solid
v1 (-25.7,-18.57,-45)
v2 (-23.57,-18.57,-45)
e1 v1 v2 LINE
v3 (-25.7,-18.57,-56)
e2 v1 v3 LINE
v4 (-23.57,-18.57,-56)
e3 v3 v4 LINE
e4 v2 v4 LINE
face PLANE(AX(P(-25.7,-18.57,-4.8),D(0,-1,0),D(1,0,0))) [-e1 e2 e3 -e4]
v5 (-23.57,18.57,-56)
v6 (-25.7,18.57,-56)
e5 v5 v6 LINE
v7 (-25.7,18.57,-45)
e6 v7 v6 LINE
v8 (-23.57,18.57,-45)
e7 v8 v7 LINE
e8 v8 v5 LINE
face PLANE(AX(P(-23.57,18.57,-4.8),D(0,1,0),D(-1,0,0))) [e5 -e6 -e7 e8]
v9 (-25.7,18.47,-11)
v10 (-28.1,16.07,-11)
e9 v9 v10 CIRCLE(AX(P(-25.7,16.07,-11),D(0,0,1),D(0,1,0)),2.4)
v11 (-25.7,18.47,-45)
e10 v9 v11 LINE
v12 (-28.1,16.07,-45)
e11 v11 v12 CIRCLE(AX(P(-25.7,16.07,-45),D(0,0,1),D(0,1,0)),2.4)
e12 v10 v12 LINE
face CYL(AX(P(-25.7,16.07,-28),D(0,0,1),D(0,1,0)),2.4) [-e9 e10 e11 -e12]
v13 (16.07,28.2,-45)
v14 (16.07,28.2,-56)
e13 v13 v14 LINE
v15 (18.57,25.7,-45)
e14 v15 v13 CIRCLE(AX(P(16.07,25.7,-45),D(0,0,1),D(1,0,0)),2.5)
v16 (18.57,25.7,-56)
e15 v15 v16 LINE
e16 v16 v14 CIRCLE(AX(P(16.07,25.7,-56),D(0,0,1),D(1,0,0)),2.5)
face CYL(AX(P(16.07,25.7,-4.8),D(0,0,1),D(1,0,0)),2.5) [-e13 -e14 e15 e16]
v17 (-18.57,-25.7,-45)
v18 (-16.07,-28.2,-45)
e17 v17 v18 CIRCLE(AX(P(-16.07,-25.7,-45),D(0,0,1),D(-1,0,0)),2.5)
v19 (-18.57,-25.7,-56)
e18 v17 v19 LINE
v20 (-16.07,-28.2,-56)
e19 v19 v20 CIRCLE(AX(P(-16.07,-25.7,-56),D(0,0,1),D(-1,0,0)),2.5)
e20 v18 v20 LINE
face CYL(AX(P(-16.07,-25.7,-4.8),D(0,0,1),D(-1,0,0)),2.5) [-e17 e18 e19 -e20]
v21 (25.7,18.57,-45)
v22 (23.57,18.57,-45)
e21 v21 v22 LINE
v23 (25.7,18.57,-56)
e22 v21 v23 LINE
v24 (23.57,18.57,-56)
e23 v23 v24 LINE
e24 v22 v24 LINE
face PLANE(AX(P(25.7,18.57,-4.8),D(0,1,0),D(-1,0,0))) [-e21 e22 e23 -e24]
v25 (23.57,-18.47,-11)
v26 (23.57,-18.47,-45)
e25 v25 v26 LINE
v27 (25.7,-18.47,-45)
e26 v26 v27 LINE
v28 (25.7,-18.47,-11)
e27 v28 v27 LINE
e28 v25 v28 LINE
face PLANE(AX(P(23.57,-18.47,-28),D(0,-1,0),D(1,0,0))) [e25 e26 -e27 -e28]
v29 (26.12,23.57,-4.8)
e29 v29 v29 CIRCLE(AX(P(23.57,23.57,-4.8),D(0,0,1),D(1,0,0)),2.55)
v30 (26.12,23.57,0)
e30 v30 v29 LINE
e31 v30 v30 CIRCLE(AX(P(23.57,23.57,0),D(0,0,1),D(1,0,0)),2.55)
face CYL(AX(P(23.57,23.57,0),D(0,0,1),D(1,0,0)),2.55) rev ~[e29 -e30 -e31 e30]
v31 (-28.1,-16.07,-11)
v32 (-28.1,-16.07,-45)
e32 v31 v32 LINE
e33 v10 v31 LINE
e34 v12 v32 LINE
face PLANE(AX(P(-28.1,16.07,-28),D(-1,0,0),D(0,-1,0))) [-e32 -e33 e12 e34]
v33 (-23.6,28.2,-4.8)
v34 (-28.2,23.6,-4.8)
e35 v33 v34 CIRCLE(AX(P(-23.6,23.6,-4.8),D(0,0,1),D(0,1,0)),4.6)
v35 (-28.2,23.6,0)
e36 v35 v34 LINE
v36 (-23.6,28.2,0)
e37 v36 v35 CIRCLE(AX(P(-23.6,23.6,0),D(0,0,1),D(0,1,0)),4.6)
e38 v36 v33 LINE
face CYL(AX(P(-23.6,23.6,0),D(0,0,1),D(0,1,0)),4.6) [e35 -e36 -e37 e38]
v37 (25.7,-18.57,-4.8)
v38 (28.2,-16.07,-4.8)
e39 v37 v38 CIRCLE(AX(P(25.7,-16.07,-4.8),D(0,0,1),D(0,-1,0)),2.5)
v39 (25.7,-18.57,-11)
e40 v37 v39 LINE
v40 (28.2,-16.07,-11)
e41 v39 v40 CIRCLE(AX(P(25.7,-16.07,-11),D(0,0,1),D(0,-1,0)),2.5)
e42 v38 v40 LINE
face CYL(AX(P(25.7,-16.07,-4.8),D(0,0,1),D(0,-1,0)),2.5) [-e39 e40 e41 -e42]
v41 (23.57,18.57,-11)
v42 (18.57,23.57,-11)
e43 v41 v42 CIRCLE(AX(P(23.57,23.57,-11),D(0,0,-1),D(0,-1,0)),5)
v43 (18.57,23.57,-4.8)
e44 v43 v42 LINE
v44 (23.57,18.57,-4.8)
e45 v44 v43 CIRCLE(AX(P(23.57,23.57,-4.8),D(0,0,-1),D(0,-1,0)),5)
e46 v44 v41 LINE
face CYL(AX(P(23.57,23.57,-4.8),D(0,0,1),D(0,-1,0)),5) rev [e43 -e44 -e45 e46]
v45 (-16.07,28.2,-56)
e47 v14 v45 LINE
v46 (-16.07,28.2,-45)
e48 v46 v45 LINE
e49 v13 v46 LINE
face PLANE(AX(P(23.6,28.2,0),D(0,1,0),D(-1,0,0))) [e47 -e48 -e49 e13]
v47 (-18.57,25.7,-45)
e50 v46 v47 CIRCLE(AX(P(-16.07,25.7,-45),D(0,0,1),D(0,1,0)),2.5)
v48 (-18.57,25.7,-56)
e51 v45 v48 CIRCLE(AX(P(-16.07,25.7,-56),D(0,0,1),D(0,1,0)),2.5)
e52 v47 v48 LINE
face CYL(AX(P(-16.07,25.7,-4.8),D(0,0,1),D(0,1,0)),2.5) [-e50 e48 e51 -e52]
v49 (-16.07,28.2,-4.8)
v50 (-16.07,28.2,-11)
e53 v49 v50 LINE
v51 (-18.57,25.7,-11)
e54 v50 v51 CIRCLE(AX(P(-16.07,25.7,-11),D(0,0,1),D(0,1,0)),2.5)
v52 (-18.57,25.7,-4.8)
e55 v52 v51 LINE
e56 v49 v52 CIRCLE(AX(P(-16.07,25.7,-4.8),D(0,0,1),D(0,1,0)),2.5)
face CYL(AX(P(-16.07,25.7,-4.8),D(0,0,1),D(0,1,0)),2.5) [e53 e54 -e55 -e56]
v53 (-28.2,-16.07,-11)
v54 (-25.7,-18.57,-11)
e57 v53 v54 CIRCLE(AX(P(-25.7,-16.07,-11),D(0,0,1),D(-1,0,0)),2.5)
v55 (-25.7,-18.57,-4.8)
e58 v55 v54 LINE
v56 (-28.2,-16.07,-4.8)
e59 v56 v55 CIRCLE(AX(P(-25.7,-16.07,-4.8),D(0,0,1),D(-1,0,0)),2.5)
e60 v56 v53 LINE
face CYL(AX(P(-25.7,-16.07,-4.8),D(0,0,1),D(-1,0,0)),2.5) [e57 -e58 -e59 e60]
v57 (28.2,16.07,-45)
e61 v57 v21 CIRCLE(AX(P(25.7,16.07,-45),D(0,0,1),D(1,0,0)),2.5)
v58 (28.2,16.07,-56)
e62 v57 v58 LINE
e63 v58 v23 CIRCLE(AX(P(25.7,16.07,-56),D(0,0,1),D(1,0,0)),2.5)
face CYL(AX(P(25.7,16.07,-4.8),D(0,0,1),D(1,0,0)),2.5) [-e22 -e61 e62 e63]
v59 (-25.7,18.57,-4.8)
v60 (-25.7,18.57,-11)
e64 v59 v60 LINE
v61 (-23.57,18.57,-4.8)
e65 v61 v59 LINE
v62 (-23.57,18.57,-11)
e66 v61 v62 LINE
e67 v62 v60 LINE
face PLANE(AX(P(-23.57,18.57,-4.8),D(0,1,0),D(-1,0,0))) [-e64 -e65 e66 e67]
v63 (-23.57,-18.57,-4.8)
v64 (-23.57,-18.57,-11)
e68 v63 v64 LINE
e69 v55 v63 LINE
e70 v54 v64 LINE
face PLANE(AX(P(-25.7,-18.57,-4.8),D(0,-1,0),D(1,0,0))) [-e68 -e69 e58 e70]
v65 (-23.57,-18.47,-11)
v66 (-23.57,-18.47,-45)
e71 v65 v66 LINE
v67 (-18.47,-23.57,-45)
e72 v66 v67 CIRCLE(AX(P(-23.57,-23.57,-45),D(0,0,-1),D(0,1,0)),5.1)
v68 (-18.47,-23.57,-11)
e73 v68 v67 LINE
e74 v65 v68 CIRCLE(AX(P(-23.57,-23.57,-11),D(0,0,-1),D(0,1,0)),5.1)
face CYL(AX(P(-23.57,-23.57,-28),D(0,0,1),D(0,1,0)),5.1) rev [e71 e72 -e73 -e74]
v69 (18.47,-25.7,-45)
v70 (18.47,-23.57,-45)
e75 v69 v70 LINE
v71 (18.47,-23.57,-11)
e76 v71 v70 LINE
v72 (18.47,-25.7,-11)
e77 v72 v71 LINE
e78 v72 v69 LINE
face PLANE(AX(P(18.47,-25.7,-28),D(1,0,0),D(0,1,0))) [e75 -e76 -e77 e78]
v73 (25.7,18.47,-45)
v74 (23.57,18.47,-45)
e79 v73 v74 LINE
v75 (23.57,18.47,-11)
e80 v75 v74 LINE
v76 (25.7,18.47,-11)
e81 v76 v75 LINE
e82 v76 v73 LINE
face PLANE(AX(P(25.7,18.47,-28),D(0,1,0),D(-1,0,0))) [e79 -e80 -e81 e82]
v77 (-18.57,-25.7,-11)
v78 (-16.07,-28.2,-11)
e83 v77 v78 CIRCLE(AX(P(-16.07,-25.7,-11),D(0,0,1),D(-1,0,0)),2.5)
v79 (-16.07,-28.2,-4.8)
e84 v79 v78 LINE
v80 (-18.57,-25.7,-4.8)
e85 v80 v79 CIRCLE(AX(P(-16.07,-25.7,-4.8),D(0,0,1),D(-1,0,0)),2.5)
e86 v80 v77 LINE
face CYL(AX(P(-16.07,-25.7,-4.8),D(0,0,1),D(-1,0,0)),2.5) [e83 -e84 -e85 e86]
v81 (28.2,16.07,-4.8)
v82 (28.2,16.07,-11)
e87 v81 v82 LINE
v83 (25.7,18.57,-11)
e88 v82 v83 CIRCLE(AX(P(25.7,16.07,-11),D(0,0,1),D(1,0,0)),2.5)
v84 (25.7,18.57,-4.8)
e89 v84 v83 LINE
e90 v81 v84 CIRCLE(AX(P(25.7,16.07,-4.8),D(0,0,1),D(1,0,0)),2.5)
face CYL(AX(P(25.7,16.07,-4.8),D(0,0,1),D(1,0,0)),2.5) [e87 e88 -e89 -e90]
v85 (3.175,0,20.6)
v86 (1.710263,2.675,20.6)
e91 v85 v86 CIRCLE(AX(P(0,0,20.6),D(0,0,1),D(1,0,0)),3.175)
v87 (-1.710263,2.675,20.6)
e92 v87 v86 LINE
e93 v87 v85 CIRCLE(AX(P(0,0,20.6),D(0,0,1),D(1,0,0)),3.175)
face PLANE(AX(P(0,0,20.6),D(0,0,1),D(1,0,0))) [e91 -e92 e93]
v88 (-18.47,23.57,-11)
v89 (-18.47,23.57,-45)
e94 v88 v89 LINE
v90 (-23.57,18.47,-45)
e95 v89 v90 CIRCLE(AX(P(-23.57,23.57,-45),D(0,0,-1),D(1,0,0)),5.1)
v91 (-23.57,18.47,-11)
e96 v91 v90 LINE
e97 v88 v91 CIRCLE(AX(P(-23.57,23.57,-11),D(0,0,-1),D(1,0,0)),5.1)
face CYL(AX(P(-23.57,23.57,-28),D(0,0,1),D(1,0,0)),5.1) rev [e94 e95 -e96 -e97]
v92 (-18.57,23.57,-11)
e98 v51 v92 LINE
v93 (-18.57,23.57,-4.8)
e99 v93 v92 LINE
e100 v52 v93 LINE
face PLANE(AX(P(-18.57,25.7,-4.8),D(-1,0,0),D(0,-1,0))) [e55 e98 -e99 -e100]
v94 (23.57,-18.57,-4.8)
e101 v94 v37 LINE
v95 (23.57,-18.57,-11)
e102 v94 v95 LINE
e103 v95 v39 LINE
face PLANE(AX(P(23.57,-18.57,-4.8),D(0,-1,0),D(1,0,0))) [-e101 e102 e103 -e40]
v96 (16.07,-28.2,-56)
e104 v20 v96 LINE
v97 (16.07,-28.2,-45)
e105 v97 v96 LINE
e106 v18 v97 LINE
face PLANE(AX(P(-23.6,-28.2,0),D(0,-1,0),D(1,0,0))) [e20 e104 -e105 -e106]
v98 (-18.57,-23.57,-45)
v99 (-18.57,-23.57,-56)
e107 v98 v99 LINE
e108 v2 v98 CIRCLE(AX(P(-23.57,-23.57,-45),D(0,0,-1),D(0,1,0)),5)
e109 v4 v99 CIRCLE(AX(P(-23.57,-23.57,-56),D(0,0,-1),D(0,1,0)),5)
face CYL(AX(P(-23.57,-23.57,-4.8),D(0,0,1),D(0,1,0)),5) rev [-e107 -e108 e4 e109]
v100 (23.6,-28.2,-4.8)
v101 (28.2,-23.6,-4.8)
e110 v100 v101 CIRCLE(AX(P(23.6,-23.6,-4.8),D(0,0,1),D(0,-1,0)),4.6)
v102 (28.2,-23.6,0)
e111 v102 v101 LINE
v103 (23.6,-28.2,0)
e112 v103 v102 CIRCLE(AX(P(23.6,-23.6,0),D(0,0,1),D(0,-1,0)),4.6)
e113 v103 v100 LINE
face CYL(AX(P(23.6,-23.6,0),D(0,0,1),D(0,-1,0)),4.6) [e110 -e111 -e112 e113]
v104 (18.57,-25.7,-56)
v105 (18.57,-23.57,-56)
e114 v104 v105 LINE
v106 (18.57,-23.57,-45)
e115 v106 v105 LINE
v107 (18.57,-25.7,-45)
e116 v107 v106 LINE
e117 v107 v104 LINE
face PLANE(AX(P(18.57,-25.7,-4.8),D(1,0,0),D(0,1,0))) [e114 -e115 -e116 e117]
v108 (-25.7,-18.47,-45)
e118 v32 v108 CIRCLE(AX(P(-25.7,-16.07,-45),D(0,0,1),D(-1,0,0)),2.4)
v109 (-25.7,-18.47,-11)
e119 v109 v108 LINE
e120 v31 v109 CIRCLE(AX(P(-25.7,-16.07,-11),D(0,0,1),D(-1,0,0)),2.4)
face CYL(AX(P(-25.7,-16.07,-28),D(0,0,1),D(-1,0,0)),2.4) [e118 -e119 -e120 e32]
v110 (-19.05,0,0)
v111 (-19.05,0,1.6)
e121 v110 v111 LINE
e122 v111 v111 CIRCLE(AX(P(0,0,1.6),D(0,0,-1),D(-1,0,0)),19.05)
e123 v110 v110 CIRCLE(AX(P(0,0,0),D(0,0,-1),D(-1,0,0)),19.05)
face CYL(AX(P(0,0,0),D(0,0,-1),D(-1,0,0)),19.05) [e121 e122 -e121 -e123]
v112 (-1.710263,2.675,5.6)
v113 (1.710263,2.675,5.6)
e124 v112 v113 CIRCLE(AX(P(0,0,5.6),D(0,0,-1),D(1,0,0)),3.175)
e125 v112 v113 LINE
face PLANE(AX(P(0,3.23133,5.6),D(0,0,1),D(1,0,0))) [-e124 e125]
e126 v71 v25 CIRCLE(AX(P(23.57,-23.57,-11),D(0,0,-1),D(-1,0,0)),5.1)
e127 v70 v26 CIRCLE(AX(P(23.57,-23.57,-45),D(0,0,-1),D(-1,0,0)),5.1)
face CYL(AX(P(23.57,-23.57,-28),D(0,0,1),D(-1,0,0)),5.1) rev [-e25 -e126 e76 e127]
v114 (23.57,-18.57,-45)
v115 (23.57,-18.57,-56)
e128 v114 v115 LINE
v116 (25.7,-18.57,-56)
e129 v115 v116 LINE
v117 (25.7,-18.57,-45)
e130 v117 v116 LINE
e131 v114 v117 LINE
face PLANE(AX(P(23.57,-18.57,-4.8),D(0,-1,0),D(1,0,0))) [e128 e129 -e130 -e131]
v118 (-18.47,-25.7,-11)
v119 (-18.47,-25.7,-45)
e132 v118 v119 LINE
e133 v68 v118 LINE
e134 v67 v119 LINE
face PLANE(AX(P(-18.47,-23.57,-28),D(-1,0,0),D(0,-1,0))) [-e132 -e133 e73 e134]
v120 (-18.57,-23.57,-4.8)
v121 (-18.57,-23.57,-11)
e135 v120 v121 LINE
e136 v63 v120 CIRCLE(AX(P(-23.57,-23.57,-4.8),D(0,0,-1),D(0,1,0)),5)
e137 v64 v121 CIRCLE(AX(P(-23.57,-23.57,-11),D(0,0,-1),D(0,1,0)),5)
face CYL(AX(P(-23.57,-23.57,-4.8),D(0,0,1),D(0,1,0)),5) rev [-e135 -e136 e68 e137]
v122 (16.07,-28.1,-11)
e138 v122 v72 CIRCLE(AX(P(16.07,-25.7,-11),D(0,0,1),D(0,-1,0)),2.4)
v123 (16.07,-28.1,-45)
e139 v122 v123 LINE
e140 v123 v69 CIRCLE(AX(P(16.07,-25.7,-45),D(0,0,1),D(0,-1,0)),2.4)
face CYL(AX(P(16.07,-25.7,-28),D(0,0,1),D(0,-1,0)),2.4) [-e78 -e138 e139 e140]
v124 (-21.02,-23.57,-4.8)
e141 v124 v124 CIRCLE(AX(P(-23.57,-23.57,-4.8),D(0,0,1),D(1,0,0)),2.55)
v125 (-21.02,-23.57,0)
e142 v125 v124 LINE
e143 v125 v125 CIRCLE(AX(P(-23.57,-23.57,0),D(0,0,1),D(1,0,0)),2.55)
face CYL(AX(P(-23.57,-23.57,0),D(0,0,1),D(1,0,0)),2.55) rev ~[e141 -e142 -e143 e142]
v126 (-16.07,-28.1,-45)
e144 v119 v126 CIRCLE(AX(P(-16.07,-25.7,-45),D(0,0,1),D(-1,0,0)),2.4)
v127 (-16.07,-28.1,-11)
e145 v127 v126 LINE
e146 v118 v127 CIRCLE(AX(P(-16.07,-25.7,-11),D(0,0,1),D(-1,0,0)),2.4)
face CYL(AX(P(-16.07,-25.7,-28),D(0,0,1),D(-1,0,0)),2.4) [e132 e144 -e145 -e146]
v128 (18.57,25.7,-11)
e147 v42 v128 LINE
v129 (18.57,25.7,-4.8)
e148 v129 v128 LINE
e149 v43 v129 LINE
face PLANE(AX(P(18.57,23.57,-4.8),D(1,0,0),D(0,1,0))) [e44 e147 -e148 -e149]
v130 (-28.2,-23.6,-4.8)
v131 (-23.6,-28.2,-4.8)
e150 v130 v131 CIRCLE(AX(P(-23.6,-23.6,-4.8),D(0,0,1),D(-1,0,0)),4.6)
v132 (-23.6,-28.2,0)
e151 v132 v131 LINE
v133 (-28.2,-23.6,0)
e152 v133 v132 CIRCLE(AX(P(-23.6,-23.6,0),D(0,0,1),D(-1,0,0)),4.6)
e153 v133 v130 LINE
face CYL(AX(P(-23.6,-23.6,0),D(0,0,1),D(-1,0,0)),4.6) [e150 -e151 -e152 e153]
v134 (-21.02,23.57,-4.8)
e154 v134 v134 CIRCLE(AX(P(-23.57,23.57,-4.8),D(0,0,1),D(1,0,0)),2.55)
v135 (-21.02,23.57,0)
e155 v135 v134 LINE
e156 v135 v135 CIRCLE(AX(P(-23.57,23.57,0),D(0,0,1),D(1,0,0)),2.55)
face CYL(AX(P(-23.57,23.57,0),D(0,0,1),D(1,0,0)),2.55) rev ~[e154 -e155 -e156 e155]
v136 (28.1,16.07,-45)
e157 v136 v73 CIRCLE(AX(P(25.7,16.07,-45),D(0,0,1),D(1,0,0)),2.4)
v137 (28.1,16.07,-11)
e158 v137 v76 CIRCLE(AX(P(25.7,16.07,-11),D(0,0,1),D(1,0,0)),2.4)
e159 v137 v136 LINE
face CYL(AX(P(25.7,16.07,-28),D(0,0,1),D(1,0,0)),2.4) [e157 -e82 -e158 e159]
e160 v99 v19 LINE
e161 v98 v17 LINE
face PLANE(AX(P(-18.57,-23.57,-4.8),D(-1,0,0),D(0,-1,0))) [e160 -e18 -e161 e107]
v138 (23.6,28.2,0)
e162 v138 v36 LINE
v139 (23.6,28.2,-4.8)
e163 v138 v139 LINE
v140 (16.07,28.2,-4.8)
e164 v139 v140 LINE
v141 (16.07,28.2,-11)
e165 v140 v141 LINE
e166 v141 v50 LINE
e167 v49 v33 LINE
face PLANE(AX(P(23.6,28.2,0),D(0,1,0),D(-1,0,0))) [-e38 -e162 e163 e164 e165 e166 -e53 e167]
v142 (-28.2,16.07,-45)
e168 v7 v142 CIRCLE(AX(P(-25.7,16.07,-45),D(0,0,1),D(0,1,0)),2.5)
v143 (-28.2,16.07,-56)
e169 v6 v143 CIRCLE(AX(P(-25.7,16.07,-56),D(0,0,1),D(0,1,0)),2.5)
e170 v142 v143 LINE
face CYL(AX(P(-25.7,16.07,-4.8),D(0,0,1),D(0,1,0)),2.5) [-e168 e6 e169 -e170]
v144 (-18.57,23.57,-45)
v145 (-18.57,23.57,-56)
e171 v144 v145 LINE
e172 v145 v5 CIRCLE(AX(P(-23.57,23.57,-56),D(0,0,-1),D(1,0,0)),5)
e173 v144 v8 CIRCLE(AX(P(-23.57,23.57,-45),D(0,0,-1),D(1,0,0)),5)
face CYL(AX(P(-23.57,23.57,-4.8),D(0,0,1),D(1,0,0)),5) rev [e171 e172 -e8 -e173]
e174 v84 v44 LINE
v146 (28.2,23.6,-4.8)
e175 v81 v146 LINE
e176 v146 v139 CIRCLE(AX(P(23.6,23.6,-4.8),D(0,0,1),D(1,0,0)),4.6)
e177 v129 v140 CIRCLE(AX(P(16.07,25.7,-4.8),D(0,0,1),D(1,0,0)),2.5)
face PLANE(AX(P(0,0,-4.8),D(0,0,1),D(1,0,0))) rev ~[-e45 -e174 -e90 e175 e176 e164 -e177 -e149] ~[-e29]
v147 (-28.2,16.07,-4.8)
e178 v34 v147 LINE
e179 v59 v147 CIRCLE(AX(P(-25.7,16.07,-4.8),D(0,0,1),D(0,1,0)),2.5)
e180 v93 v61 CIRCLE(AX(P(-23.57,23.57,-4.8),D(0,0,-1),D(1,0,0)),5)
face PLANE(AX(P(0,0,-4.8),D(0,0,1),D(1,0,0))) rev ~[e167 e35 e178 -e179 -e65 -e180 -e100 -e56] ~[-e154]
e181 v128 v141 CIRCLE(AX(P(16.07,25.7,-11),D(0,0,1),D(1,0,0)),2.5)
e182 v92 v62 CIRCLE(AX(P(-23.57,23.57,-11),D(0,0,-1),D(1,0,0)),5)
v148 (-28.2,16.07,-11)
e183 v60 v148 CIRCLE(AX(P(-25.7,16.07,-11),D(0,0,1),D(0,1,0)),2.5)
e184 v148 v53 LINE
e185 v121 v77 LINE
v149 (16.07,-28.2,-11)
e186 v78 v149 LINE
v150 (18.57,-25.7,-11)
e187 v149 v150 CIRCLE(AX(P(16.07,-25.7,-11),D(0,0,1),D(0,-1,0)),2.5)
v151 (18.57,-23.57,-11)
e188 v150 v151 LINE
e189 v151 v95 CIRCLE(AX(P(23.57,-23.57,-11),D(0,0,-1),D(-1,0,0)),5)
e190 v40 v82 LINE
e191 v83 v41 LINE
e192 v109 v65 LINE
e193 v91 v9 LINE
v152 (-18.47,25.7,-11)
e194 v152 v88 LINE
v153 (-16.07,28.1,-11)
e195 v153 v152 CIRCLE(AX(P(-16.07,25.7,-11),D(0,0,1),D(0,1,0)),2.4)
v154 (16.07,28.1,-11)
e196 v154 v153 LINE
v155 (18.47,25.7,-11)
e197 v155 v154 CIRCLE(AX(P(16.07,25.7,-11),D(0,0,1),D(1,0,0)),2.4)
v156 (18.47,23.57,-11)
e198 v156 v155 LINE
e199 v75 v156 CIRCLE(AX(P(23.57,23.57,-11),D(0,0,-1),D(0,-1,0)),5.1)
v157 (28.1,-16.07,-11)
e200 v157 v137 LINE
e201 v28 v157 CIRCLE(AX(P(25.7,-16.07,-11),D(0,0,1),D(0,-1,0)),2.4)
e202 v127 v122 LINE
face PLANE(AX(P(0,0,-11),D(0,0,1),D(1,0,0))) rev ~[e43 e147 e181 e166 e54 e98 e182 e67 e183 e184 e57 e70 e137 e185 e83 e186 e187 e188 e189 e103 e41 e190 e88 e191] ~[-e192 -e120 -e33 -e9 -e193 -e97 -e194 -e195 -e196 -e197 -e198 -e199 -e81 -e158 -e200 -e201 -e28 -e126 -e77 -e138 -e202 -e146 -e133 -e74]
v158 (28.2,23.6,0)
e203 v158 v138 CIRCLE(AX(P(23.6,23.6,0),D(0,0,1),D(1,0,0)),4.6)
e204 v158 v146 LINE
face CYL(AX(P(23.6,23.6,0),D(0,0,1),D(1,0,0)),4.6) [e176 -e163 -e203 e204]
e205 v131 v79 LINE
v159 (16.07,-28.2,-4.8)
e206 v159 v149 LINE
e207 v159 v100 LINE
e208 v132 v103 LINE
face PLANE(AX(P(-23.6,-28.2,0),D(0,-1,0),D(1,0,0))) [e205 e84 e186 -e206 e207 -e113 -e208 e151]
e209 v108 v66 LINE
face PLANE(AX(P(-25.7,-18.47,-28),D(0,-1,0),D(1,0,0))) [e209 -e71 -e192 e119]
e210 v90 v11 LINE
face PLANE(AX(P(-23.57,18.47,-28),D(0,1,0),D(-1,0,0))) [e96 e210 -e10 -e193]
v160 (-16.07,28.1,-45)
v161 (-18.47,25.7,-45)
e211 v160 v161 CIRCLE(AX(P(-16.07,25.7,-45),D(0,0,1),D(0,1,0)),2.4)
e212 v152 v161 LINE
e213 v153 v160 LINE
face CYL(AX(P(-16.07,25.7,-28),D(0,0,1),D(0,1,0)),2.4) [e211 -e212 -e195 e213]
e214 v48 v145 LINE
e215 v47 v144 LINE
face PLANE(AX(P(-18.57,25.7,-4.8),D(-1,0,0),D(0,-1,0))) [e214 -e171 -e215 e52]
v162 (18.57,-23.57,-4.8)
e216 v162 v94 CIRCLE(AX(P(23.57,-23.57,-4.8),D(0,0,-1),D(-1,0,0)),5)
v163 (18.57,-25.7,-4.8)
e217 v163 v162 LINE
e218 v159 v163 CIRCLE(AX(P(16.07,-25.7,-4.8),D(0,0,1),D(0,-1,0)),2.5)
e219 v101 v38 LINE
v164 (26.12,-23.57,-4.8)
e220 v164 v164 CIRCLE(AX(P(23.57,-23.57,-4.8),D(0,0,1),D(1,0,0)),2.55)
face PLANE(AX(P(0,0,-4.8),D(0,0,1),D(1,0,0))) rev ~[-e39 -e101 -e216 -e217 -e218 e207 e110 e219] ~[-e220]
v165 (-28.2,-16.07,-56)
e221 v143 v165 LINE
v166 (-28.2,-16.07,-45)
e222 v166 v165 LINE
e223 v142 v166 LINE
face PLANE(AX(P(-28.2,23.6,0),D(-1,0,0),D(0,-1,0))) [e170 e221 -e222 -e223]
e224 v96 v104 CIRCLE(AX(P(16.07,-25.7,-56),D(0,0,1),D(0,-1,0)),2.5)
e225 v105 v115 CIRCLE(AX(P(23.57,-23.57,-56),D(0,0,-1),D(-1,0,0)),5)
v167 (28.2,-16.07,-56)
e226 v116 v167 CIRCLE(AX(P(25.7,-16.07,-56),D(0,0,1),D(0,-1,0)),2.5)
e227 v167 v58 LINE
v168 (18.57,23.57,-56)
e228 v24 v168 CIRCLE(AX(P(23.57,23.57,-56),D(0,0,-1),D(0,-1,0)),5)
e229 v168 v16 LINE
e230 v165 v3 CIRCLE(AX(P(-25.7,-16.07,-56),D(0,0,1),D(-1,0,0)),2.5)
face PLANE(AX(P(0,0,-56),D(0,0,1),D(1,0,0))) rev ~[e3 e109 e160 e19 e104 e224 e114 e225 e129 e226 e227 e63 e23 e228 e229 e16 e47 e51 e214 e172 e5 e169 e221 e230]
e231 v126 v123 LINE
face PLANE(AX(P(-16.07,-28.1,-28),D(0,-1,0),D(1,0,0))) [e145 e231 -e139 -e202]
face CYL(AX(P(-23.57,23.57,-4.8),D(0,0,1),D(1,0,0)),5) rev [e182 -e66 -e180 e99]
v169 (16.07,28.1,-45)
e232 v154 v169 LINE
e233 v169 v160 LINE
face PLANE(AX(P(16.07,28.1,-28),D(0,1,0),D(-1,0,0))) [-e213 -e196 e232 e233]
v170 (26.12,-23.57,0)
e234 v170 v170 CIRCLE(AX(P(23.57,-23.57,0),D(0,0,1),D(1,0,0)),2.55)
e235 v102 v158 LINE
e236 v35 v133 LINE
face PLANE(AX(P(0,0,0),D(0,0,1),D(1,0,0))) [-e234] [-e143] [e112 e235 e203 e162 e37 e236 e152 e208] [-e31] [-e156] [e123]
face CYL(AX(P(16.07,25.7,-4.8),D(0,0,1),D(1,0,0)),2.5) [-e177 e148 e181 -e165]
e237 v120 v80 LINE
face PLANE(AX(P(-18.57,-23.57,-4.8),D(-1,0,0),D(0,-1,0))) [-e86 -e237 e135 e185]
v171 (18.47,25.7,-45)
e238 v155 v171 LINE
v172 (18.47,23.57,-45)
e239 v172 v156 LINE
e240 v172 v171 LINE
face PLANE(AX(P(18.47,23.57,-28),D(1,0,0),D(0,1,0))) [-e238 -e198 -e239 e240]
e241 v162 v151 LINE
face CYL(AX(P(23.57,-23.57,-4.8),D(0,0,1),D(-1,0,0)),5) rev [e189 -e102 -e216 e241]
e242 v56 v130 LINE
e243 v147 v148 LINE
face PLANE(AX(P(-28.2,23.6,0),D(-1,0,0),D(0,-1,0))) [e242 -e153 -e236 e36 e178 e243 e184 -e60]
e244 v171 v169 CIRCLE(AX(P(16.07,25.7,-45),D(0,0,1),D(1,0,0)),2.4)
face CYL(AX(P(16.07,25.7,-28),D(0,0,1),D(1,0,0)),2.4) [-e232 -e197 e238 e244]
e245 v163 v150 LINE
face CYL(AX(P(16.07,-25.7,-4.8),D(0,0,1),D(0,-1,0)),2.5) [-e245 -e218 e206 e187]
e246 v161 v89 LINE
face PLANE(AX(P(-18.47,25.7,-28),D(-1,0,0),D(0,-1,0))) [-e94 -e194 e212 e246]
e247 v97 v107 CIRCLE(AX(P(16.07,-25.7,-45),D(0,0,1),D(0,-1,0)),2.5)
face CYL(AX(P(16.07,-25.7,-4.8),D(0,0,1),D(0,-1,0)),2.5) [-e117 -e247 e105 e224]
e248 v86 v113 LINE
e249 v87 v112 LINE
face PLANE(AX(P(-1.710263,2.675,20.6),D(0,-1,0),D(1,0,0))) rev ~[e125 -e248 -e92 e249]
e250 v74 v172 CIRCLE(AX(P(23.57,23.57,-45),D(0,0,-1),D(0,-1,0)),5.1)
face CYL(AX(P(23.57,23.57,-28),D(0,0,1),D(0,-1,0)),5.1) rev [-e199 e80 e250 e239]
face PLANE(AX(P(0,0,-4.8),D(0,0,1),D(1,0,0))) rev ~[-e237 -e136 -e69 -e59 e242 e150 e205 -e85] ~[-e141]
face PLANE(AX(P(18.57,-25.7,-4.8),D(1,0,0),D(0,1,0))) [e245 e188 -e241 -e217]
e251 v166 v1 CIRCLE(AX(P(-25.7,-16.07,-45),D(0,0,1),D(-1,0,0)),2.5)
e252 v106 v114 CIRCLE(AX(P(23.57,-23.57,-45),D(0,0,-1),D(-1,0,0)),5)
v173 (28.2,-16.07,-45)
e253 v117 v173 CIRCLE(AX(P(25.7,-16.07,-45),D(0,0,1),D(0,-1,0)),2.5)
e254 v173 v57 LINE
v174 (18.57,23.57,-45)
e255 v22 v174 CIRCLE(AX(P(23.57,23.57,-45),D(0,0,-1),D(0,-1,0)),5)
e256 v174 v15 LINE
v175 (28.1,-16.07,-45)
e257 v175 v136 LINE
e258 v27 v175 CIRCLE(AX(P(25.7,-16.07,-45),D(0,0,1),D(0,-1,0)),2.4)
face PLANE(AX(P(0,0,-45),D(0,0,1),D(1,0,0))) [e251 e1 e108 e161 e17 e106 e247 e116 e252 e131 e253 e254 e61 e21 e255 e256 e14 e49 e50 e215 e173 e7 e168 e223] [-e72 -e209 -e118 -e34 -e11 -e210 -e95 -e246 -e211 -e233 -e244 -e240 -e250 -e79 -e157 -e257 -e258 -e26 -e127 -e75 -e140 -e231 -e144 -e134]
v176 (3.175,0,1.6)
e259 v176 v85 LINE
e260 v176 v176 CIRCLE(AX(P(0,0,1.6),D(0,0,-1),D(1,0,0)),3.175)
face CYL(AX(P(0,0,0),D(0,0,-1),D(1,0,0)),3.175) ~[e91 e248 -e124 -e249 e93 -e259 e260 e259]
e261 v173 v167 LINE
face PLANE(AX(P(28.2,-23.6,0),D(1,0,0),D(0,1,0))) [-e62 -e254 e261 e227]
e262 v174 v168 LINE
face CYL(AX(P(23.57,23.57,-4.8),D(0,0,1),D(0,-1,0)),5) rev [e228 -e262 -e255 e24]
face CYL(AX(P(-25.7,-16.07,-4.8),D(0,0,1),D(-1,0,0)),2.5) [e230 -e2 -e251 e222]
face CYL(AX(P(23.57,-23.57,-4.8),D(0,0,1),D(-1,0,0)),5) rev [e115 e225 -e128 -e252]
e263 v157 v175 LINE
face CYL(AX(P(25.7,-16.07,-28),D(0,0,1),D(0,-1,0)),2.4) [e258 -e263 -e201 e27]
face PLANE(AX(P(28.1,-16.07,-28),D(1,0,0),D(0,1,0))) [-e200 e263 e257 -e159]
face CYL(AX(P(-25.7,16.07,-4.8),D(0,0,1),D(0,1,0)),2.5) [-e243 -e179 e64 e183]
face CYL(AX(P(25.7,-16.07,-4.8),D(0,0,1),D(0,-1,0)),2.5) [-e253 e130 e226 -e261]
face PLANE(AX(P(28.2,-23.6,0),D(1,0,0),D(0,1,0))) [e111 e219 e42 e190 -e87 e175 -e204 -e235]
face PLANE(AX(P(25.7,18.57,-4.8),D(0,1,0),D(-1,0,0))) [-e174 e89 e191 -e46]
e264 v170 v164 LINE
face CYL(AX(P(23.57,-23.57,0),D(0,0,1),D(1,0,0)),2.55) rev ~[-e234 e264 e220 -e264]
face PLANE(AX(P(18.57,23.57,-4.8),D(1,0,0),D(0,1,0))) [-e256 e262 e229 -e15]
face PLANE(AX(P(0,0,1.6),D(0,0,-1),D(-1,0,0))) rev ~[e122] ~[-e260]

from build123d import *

# Parameters (mm, degrees)
SKETCH1_R           = 3.175
BOSS_EXTRUDE1_DEPTH = 20.6
SKETCH2_R           = 19.05
BOSS_EXTRUDE2_DEPTH = 1.6
BOSS_EXTRUDE3_DEPTH = 4.8
BOSS_EXTRUDE4_DEPTH = 51.2
SKETCH7_W           = 3.420526276
SKETCH7_H           = 1.112659396
CUT_EXTRUDE5_DEPTH  = 15
CUT_EXTRUDE6_REACH  = 58
SKETCH8_R           = 2.55
CUT_EXTRUDE7_DEPTH  = 17


with BuildPart() as part:
    # Sketch1 → Boss-Extrude1 (new body)
    with BuildSketch(Plane.XY):
        Circle(SKETCH1_R)
    extrude(amount=BOSS_EXTRUDE1_DEPTH)

    # Sketch2 → Boss-Extrude2 (add)
    with BuildSketch(Plane(origin=(0, 0, 0), x_dir=(-1, 0, 0), z_dir=(0, 0, -1))):
        Circle(SKETCH2_R)
    extrude(amount=-BOSS_EXTRUDE2_DEPTH)

    # Sketch3 → Boss-Extrude3 (add)
    with BuildSketch(Plane(origin=(0, 0, 0), x_dir=(-1, 0, 0), z_dir=(0, 0, -1))):
        with BuildLine():
            Line((23.6, -28.2), (-23.6, -28.2))
            ThreePointArc((-23.6, -28.2), (-26.852691193, -26.852691193), (-28.2, -23.6))
            Line((-28.2, -23.6), (-28.2, 23.6))
            ThreePointArc((-28.2, 23.6), (-26.852691193, 26.852691193), (-23.6, 28.2))
            Line((-23.6, 28.2), (23.6, 28.2))
            ThreePointArc((23.6, 28.2), (26.852691193, 26.852691193), (28.2, 23.6))
            Line((28.2, 23.6), (28.2, -23.6))
            ThreePointArc((28.2, -23.6), (26.852691193, -26.852691193), (23.6, -28.2))
        make_face()
    extrude(amount=BOSS_EXTRUDE3_DEPTH)

    # Sketch4 → Boss-Extrude4 (add)
    with BuildSketch(Plane(origin=(0, 0, -4.8), x_dir=(-1, 0, 0), z_dir=(0, 0, -1))):
        with BuildLine():
            Line((-18.57, 23.57), (-18.57, 25.7))
            ThreePointArc((-18.57, 25.7), (-17.837766953, 27.467766953), (-16.07, 28.2))
            Line((-16.07, 28.2), (16.07, 28.2))
            ThreePointArc((16.07, 28.2), (17.837766953, 27.467766953), (18.57, 25.7))
            Line((18.57, 25.7), (18.57, 23.57))
            ThreePointArc((18.57, 23.57), (20.034466094, 20.034466094), (23.57, 18.57))
            Line((23.57, 18.57), (25.7, 18.57))
            ThreePointArc((25.7, 18.57), (27.467766953, 17.837766953), (28.2, 16.07))
            Line((28.2, 16.07), (28.2, -16.07))
            ThreePointArc((28.2, -16.07), (27.467766953, -17.837766953), (25.7, -18.57))
            Line((25.7, -18.57), (23.57, -18.57))
            ThreePointArc((23.57, -18.57), (20.034466094, -20.034466094), (18.57, -23.57))
            Line((18.57, -23.57), (18.57, -25.7))
            ThreePointArc((18.57, -25.7), (17.837766953, -27.467766953), (16.07, -28.2))
            Line((16.07, -28.2), (-16.07, -28.2))
            ThreePointArc((-16.07, -28.2), (-17.837766953, -27.467766953), (-18.57, -25.7))
            Line((-18.57, -25.7), (-18.57, -23.57))
            ThreePointArc((-18.57, -23.57), (-20.034466094, -20.034466094), (-23.57, -18.57))
            Line((-23.57, -18.57), (-25.7, -18.57))
            ThreePointArc((-25.7, -18.57), (-27.467766953, -17.837766953), (-28.2, -16.07))
            Line((-28.2, -16.07), (-28.2, 16.07))
            ThreePointArc((-28.2, 16.07), (-27.467766953, 17.837766953), (-25.7, 18.57))
            Line((-25.7, 18.57), (-23.57, 18.57))
            ThreePointArc((-23.57, 18.57), (-20.034466094, 20.034466094), (-18.57, 23.57))
        make_face()
    extrude(amount=BOSS_EXTRUDE4_DEPTH)

    # Sketch7 → Cut-Extrude5 (cut)
    with BuildSketch(Plane.XY.offset(20.6)):
        with Locations((0, 3.231329698)):
            Rectangle(SKETCH7_W, SKETCH7_H)
    extrude(amount=-CUT_EXTRUDE5_DEPTH, mode=Mode.SUBTRACT)

    # Sketch8 → Cut-Extrude6 (cut, up to next)
    with BuildSketch(Plane.XY, mode=Mode.PRIVATE) as cut_extrude6_sk1:
        with Locations((-23.57, 23.57)):
            Circle(SKETCH8_R)
    cut_extrude6_tool1 = extrude(cut_extrude6_sk1.sketch, amount=-CUT_EXTRUDE6_REACH, mode=Mode.PRIVATE) & part.part
    add(cut_extrude6_tool1.solids().sort_by_distance((-23.57, 23.57, 0))[0], mode=Mode.SUBTRACT)
    # Sketch8 → Cut-Extrude6 (cut, up to next)
    with BuildSketch(Plane.XY, mode=Mode.PRIVATE) as cut_extrude6_sk2:
        with Locations((23.57, 23.57)):
            Circle(SKETCH8_R)
    cut_extrude6_tool2 = extrude(cut_extrude6_sk2.sketch, amount=-CUT_EXTRUDE6_REACH, mode=Mode.PRIVATE) & part.part
    add(cut_extrude6_tool2.solids().sort_by_distance((23.57, 23.57, 0))[0], mode=Mode.SUBTRACT)
    # Sketch8 → Cut-Extrude6 (cut, up to next)
    with BuildSketch(Plane.XY, mode=Mode.PRIVATE) as cut_extrude6_sk3:
        with Locations((23.57, -23.57)):
            Circle(SKETCH8_R)
    cut_extrude6_tool3 = extrude(cut_extrude6_sk3.sketch, amount=-CUT_EXTRUDE6_REACH, mode=Mode.PRIVATE) & part.part
    add(cut_extrude6_tool3.solids().sort_by_distance((23.57, -23.57, 0))[0], mode=Mode.SUBTRACT)
    # Sketch8 → Cut-Extrude6 (cut, up to next)
    with BuildSketch(Plane.XY, mode=Mode.PRIVATE) as cut_extrude6_sk4:
        with Locations((-23.57, -23.57)):
            Circle(SKETCH8_R)
    cut_extrude6_tool4 = extrude(cut_extrude6_sk4.sketch, amount=-CUT_EXTRUDE6_REACH, mode=Mode.PRIVATE) & part.part
    add(cut_extrude6_tool4.solids().sort_by_distance((-23.57, -23.57, 0))[0], mode=Mode.SUBTRACT)

    # Sketch9 → Cut-Extrude7 (cut, symmetric)
    with BuildSketch(Plane.XY.offset(-28)):
        with BuildLine():
            Line((18.57, 23.57), (18.57, 25.7))
            ThreePointArc((18.57, 25.7), (17.837766953, 27.467766953), (16.07, 28.2))
            Line((16.07, 28.2), (-16.07, 28.2))
            ThreePointArc((-16.07, 28.2), (-17.837766953, 27.467766953), (-18.57, 25.7))
            Line((-18.57, 25.7), (-18.57, 23.57))
            ThreePointArc((-18.57, 23.57), (-20.034466094, 20.034466094), (-23.57, 18.57))
            Line((-23.57, 18.57), (-25.7, 18.57))
            ThreePointArc((-25.7, 18.57), (-27.467766953, 17.837766953), (-28.2, 16.07))
            Line((-28.2, 16.07), (-28.2, -16.07))
            ThreePointArc((-28.2, -16.07), (-27.467766953, -17.837766953), (-25.7, -18.57))
            Line((-25.7, -18.57), (-23.57, -18.57))
            ThreePointArc((-23.57, -18.57), (-20.034466094, -20.034466094), (-18.57, -23.57))
            Line((-18.57, -23.57), (-18.57, -25.7))
            ThreePointArc((-18.57, -25.7), (-17.837766953, -27.467766953), (-16.07, -28.2))
            Line((-16.07, -28.2), (16.07, -28.2))
            ThreePointArc((16.07, -28.2), (17.837766953, -27.467766953), (18.57, -25.7))
            Line((18.57, -25.7), (18.57, -23.57))
            ThreePointArc((18.57, -23.57), (20.034466094, -20.034466094), (23.57, -18.57))
            Line((23.57, -18.57), (25.7, -18.57))
            ThreePointArc((25.7, -18.57), (27.467766953, -17.837766953), (28.2, -16.07))
            Line((28.2, -16.07), (28.2, 16.07))
            ThreePointArc((28.2, 16.07), (27.467766953, 17.837766953), (25.7, 18.57))
            Line((25.7, 18.57), (23.57, 18.57))
            ThreePointArc((23.57, 18.57), (20.034466094, 20.034466094), (18.57, 23.57))
        make_face()
        with BuildLine():
            Line((18.47, 23.57), (18.47, 25.7))
            ThreePointArc((18.47, 25.7), (17.767056275, 27.397056275), (16.07, 28.1))
            Line((16.07, 28.1), (-16.07, 28.1))
            ThreePointArc((-16.07, 28.1), (-17.767056275, 27.397056275), (-18.47, 25.7))
            Line((-18.47, 25.7), (-18.47, 23.57))
            ThreePointArc((-18.47, 23.57), (-19.963755416, 19.963755416), (-23.57, 18.47))
            Line((-23.57, 18.47), (-25.7, 18.47))
            ThreePointArc((-25.7, 18.47), (-27.397056275, 17.767056275), (-28.1, 16.07))
            Line((-28.1, 16.07), (-28.1, -16.07))
            ThreePointArc((-28.1, -16.07), (-27.397056275, -17.767056275), (-25.7, -18.47))
            Line((-25.7, -18.47), (-23.57, -18.47))
            ThreePointArc((-23.57, -18.47), (-19.963755416, -19.963755416), (-18.47, -23.57))
            Line((-18.47, -23.57), (-18.47, -25.7))
            ThreePointArc((-18.47, -25.7), (-17.767056275, -27.397056275), (-16.07, -28.1))
            Line((-16.07, -28.1), (16.07, -28.1))
            ThreePointArc((16.07, -28.1), (17.767056275, -27.397056275), (18.47, -25.7))
            Line((18.47, -25.7), (18.47, -23.57))
            ThreePointArc((18.47, -23.57), (19.963755416, -19.963755416), (23.57, -18.47))
            Line((23.57, -18.47), (25.7, -18.47))
            ThreePointArc((25.7, -18.47), (27.397056275, -17.767056275), (28.1, -16.07))
            Line((28.1, -16.07), (28.1, 16.07))
            ThreePointArc((28.1, 16.07), (27.397056275, 17.767056275), (25.7, 18.47))
            Line((25.7, 18.47), (23.57, 18.47))
            ThreePointArc((23.57, 18.47), (19.963755416, 19.963755416), (18.47, 23.57))
        make_face(mode=Mode.SUBTRACT)
    extrude(amount=CUT_EXTRUDE7_DEPTH, both=True, mode=Mode.SUBTRACT)


solid = part.part
